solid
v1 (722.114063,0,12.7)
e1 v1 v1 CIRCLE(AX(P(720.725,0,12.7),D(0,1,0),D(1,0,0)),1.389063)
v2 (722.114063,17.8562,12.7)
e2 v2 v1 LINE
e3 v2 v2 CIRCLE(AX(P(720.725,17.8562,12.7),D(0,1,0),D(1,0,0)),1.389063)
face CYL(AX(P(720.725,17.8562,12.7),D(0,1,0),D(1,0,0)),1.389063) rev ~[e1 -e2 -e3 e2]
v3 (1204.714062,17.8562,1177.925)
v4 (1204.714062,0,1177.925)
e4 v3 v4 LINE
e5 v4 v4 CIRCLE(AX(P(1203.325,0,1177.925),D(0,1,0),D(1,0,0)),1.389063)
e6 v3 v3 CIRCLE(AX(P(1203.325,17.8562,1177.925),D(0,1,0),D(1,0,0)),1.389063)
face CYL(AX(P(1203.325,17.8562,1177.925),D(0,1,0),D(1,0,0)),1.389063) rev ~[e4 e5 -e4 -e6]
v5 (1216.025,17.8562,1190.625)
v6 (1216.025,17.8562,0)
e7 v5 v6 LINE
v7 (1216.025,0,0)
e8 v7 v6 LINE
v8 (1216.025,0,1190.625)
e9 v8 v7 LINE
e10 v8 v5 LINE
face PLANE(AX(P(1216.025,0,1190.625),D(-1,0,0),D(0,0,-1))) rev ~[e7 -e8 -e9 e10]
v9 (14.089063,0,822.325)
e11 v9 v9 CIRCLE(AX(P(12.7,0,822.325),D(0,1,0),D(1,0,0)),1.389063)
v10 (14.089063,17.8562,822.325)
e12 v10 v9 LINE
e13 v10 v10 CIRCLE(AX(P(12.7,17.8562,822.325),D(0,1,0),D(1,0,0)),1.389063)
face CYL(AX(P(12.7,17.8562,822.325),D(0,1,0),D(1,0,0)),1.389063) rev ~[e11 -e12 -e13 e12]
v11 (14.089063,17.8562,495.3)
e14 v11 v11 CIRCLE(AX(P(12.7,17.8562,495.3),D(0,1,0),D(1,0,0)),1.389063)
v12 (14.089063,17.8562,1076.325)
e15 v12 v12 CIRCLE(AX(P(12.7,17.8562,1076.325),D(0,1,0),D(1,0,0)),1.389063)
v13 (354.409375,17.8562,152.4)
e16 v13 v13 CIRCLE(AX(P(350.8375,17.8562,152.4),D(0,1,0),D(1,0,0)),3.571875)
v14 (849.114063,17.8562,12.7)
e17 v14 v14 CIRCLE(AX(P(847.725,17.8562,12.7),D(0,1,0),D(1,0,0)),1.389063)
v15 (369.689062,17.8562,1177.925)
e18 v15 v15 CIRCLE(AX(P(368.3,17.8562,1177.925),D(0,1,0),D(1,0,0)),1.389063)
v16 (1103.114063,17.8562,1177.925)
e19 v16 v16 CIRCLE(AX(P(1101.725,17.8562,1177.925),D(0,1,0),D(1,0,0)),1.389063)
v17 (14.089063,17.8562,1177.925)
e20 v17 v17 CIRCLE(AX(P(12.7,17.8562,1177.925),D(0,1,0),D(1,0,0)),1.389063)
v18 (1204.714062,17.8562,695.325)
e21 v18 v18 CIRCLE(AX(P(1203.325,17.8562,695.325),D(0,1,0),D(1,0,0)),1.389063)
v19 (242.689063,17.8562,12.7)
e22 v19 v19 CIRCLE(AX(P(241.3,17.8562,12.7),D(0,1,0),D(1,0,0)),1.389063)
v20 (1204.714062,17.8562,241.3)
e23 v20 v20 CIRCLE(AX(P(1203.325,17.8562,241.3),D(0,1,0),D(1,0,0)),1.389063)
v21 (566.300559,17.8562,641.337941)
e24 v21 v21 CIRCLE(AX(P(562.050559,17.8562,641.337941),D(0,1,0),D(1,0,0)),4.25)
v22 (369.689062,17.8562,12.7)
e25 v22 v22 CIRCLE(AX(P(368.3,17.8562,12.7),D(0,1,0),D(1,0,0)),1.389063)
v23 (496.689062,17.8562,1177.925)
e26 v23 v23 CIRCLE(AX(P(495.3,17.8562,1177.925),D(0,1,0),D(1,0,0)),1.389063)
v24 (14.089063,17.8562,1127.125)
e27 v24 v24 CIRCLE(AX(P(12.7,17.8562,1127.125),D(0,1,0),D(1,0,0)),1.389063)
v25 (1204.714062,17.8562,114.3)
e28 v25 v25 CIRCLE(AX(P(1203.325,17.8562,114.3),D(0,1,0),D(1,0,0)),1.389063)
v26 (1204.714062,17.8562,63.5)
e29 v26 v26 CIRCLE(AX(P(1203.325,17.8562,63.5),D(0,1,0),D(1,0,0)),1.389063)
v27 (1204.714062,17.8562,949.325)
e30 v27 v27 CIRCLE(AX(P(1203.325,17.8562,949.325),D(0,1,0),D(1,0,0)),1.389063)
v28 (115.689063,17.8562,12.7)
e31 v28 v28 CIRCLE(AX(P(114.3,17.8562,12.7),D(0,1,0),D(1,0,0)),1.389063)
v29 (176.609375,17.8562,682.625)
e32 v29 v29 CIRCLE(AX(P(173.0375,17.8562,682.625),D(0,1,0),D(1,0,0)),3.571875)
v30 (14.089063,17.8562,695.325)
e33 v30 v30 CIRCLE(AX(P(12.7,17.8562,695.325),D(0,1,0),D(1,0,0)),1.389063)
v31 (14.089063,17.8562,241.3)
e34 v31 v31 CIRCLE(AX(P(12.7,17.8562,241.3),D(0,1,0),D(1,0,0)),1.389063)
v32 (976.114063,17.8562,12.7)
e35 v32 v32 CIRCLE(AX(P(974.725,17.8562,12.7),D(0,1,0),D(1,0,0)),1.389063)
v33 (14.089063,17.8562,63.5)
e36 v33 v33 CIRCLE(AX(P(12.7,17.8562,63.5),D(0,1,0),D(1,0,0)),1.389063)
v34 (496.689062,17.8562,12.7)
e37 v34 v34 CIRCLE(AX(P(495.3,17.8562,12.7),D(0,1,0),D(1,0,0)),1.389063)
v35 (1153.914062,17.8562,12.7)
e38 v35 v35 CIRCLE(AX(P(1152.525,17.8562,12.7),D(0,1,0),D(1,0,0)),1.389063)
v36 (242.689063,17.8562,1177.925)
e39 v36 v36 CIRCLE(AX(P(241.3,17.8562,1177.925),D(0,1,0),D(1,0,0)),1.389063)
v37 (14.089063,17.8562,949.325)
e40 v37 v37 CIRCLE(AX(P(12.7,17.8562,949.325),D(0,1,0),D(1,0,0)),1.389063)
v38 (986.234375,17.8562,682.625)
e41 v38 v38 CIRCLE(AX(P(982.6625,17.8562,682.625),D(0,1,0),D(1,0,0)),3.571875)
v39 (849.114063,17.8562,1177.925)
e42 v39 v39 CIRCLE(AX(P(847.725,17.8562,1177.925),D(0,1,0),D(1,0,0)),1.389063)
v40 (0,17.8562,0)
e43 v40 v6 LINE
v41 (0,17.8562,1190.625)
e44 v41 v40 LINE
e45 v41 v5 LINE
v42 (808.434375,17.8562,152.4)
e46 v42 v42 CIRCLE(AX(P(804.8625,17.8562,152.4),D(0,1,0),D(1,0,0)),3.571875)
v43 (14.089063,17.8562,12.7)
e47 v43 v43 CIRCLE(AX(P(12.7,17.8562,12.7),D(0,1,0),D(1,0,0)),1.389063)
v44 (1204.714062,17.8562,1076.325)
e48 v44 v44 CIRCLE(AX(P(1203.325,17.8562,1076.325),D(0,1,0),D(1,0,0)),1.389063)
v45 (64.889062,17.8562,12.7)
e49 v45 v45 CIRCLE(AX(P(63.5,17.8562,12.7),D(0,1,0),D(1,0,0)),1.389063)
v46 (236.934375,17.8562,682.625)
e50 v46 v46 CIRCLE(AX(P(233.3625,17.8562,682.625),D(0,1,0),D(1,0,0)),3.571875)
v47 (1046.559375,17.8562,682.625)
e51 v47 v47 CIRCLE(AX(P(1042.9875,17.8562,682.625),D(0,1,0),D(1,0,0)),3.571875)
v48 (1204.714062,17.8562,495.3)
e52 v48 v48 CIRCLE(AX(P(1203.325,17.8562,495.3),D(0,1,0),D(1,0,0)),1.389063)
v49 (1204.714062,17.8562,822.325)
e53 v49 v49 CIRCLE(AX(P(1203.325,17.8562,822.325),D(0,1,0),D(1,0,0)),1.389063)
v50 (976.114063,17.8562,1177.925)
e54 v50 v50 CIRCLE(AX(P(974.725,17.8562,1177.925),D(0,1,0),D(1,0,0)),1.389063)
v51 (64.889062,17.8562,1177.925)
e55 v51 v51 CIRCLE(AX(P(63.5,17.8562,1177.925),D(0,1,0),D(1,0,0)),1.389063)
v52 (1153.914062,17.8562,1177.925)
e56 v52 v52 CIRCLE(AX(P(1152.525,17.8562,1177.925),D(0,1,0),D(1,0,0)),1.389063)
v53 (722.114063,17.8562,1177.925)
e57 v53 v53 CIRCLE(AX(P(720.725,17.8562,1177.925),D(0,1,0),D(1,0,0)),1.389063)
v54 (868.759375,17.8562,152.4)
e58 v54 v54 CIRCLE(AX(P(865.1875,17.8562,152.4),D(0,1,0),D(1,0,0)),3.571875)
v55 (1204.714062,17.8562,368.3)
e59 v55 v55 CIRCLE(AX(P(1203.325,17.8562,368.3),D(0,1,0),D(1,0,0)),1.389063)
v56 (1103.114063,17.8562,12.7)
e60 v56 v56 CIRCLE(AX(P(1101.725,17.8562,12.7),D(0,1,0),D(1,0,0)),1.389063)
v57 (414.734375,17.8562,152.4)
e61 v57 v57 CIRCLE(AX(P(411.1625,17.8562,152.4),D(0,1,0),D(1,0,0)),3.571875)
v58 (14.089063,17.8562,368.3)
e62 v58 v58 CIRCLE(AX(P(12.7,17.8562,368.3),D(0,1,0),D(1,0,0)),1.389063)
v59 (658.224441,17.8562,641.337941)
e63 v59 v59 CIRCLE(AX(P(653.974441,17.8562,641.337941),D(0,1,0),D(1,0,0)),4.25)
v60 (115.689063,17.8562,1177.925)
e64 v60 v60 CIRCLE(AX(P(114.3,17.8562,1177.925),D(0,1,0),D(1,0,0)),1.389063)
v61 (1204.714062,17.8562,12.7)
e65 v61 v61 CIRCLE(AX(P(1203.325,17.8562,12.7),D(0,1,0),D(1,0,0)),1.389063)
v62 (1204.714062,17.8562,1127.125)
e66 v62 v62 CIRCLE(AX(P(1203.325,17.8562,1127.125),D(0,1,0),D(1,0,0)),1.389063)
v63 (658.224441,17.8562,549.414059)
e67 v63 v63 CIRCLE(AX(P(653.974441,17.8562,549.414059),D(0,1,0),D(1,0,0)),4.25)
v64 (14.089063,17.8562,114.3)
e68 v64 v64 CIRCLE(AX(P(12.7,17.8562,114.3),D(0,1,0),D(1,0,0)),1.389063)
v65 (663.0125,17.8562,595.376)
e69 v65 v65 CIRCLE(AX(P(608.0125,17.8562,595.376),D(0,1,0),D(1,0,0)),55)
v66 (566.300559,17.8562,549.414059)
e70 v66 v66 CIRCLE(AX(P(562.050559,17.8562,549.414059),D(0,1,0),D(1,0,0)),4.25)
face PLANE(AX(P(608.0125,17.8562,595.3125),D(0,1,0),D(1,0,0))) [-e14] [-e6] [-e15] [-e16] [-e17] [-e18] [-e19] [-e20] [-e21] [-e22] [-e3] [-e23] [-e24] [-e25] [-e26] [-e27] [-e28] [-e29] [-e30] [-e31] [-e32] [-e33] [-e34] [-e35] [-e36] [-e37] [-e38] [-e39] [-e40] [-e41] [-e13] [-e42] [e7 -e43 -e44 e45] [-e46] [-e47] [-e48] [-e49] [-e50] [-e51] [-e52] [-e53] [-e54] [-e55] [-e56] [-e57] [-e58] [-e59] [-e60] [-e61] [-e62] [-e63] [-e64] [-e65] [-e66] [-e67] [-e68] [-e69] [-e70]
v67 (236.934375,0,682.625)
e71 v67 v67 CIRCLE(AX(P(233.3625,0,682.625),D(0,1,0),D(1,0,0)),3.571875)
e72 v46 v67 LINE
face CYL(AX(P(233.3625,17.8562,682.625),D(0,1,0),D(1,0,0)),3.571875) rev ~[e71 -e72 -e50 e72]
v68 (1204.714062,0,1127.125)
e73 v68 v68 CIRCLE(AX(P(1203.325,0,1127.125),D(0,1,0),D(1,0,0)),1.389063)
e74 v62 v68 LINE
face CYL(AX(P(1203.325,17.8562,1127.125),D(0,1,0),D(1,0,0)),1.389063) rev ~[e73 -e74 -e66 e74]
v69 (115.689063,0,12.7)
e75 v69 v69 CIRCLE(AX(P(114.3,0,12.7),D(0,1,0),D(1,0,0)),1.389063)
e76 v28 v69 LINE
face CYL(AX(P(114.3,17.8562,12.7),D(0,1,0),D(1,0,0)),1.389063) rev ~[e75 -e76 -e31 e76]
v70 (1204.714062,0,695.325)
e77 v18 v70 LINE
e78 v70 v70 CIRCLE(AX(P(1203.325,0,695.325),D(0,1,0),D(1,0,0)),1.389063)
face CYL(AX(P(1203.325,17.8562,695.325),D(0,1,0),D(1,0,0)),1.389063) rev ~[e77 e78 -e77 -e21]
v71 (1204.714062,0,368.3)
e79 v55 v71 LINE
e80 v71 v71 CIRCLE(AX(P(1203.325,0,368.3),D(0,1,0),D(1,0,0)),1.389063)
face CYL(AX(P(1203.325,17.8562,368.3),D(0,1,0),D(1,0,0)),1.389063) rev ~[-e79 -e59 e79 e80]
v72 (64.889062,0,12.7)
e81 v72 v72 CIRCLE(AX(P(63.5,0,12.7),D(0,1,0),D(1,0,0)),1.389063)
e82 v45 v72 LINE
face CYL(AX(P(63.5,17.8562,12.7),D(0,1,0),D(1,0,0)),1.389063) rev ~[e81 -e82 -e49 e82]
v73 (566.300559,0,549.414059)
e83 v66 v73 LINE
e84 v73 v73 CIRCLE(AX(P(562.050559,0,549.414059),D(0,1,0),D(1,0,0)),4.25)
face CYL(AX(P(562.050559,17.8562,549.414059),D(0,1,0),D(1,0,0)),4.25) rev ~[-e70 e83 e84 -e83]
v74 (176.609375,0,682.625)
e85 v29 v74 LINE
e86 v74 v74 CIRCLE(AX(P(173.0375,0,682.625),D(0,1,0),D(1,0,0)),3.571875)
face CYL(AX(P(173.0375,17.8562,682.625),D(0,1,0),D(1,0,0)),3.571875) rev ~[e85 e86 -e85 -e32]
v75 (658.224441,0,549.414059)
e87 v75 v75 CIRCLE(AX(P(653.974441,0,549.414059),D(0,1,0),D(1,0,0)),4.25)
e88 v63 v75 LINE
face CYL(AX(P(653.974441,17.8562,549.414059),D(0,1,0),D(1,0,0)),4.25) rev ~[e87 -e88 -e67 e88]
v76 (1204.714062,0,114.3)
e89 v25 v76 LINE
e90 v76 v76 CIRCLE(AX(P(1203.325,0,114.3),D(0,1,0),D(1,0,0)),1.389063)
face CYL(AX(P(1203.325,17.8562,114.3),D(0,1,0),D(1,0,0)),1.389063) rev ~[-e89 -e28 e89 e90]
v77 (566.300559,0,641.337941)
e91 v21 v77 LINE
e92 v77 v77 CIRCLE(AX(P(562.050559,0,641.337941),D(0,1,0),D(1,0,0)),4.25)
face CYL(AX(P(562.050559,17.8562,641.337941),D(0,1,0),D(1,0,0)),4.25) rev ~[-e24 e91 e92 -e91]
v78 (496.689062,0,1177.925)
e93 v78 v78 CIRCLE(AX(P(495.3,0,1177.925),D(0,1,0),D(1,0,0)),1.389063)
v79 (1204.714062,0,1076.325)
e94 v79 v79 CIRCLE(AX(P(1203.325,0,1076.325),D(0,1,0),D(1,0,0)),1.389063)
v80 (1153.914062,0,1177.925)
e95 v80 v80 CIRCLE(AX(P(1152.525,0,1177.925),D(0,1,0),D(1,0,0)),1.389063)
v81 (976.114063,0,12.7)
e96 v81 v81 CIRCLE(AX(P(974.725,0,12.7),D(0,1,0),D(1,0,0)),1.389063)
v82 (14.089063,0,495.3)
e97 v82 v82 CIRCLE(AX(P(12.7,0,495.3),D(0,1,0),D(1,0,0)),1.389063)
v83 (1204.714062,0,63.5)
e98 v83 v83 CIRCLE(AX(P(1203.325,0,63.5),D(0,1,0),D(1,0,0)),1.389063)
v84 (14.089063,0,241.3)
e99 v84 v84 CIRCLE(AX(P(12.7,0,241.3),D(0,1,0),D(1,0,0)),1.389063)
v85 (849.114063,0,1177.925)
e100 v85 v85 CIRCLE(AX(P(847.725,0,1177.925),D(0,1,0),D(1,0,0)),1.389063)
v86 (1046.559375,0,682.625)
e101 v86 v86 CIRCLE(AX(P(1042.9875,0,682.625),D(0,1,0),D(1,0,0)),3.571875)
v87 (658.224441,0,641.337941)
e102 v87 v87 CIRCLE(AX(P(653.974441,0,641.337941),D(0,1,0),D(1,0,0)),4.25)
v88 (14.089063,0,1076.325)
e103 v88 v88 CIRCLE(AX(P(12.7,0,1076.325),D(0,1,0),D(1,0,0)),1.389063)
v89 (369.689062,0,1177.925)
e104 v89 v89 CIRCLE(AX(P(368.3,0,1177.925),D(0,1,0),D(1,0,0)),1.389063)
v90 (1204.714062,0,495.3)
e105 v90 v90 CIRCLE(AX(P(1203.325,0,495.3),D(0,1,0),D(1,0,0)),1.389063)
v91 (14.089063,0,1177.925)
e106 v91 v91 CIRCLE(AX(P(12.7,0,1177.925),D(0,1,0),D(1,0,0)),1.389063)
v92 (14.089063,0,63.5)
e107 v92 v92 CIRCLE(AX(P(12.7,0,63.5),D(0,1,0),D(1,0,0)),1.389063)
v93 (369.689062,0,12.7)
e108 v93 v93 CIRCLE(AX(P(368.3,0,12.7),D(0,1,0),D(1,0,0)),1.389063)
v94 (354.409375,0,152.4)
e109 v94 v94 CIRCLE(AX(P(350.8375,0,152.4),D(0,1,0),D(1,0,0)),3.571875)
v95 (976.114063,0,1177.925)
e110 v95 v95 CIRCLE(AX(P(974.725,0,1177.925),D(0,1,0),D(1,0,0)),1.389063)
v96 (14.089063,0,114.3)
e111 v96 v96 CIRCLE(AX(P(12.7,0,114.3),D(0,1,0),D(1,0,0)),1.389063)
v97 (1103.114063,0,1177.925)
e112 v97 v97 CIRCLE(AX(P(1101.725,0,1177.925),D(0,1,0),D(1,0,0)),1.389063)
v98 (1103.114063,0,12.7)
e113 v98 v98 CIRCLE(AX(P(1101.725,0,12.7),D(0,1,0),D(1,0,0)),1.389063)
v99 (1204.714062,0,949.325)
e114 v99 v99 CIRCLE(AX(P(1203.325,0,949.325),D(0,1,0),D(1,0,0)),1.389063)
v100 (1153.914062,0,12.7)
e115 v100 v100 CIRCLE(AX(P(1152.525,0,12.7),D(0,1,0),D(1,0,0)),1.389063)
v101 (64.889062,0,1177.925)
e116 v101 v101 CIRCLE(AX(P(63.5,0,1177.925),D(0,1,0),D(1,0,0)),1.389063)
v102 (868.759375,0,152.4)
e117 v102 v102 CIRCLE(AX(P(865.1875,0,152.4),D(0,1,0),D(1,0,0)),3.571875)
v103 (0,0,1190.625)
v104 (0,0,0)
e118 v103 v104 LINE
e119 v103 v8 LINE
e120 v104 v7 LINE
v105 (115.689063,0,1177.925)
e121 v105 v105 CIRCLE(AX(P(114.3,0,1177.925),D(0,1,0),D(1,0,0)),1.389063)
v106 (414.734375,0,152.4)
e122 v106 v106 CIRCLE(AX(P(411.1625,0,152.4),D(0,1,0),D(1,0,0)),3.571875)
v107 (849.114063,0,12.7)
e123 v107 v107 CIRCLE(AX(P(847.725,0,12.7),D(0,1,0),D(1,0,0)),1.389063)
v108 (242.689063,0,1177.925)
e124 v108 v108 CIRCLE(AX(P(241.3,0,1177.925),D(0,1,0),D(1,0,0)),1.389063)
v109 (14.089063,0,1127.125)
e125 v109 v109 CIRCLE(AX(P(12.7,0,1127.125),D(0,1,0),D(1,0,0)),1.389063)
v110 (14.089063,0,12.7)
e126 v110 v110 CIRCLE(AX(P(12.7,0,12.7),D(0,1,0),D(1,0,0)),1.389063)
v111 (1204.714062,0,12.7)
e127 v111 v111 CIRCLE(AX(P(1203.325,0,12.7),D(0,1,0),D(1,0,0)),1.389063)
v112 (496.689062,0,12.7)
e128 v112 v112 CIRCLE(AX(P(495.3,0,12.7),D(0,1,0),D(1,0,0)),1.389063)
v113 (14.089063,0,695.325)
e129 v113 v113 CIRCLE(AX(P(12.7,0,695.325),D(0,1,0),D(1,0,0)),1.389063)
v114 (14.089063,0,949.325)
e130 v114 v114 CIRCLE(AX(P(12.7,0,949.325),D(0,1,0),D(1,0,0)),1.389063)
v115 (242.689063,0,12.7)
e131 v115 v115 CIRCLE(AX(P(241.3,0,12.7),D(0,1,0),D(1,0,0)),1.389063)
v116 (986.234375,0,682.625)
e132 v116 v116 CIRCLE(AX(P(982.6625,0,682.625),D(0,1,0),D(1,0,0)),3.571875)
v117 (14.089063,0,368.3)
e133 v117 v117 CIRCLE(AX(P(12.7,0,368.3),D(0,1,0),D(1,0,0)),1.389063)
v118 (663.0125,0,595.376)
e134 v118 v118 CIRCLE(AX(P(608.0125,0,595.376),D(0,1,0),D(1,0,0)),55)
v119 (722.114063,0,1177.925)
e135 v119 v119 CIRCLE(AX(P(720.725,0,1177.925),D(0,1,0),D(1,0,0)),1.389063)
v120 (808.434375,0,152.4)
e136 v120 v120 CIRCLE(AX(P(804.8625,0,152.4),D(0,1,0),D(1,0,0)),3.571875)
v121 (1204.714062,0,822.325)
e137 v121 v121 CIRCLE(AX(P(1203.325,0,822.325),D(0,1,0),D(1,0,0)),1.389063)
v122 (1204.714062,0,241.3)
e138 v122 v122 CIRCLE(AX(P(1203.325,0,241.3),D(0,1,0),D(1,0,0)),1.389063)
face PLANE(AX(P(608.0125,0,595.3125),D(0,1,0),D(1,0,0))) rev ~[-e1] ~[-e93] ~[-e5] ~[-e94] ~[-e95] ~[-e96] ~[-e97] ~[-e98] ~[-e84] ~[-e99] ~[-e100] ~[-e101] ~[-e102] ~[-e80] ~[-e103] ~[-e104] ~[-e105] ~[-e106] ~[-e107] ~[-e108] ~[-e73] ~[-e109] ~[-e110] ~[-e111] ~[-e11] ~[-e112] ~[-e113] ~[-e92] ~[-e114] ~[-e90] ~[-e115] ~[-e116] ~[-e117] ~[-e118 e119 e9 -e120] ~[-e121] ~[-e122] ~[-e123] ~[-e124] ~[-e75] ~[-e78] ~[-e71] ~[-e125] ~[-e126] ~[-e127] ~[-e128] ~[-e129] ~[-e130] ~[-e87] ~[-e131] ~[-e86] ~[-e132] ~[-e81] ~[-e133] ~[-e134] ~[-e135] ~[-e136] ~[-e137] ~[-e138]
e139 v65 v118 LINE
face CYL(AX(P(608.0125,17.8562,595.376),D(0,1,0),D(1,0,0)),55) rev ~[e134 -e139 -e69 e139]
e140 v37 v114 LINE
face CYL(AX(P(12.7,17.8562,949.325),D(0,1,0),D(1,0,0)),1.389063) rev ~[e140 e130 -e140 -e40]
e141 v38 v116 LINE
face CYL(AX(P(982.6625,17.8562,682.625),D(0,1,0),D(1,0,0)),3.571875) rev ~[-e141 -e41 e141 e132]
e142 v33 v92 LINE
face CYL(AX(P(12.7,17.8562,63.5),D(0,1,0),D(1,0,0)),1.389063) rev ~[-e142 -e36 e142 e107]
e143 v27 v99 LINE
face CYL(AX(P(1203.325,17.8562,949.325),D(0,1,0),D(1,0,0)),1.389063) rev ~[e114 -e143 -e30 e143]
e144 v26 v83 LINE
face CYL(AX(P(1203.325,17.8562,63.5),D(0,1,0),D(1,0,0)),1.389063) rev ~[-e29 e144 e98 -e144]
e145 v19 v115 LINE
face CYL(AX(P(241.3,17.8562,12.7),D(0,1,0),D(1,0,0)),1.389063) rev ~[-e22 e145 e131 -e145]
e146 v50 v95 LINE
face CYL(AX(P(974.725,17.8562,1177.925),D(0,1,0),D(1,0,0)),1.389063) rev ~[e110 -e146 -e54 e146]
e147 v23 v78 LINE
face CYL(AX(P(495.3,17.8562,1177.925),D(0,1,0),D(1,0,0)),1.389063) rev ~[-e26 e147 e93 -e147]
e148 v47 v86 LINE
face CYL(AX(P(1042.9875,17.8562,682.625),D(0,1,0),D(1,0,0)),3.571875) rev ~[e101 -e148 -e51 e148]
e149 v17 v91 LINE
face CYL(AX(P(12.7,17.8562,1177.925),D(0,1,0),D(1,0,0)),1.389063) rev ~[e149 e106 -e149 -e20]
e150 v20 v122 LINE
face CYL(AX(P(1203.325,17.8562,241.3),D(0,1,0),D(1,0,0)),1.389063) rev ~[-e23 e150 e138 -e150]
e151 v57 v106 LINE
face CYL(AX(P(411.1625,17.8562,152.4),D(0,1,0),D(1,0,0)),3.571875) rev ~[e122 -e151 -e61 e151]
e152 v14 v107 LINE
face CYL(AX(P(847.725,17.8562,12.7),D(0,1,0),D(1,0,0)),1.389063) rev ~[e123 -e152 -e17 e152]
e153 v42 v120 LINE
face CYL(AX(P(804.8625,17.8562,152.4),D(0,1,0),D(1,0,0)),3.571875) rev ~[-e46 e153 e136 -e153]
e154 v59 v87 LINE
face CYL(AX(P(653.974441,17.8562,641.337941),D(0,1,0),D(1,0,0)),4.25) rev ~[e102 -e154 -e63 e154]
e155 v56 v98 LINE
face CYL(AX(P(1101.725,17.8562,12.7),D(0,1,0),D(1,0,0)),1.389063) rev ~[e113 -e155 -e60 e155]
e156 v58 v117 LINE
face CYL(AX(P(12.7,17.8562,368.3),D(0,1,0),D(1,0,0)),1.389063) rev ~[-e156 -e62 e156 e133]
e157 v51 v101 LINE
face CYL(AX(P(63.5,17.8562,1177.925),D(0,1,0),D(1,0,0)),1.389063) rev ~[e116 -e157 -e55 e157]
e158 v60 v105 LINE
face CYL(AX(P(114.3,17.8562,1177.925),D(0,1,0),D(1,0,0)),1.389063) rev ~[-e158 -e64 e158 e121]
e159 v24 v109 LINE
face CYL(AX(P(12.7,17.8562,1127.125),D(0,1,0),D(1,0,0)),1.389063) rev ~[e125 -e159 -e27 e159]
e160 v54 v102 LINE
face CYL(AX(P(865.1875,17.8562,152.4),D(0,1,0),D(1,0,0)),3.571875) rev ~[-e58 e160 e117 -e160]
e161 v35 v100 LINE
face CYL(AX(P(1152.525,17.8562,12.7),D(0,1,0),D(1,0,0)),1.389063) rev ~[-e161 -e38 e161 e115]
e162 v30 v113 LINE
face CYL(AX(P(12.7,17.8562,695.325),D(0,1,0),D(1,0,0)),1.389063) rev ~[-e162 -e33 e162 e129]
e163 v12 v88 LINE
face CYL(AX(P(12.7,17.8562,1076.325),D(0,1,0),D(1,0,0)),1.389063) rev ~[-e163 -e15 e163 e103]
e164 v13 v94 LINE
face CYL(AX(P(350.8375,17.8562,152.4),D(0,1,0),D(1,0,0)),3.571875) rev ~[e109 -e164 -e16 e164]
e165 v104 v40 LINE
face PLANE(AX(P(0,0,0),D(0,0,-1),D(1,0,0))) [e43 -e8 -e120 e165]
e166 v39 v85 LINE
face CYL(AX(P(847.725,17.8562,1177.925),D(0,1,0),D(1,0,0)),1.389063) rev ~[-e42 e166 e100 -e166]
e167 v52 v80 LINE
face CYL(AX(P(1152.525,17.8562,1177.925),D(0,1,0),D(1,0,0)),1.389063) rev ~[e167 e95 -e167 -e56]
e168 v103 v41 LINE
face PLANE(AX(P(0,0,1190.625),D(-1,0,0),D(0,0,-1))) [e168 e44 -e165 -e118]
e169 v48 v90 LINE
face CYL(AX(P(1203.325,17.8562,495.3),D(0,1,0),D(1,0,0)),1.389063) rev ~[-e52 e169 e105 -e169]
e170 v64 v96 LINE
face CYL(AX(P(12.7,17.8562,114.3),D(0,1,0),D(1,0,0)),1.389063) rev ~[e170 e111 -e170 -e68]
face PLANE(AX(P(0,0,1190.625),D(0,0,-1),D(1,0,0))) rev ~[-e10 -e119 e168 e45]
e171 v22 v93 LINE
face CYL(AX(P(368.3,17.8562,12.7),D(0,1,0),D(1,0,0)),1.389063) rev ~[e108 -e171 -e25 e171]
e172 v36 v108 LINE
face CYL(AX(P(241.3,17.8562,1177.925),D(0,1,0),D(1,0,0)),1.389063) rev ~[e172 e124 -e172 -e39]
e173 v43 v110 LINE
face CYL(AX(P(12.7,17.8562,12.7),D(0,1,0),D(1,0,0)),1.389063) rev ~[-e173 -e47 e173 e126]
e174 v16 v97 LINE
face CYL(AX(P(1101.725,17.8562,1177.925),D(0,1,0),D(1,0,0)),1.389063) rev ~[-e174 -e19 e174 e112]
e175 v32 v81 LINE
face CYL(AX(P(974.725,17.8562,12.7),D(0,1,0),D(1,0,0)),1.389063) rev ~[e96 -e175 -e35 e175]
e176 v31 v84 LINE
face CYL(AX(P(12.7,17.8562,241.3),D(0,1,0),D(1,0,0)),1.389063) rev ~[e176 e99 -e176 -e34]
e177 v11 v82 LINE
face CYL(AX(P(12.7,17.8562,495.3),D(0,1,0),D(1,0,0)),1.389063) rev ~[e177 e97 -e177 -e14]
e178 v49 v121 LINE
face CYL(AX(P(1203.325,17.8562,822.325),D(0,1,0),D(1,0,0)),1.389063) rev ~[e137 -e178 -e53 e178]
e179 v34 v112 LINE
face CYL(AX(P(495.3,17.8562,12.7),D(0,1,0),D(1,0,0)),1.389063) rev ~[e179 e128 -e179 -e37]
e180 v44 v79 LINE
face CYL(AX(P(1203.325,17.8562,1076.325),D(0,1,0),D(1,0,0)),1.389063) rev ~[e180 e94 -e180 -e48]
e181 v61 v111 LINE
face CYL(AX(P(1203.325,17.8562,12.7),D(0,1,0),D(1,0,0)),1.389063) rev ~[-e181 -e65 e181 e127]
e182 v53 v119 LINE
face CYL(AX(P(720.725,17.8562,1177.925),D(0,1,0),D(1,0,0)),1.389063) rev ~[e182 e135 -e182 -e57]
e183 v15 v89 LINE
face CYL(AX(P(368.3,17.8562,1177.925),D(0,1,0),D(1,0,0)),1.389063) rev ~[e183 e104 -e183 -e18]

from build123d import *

# Parameters (mm, degrees)
SKETCH1_W               = 1216.025
SKETCH1_H               = 1190.625
BOSS_EXTRUDE1_DEPTH     = 17.8562
SKETCH3_R               = 55
CUT_EXTRUDE1_DEPTH      = 1
CUT_EXTRUDE1_DEPTH_BACK = 18.8562
SKETCH4_R               = 4.25
CUT_EXTRUDE2_DEPTH      = 1
CUT_EXTRUDE2_DEPTH_BACK = 18.8562
SKETCH5_R               = 1.3890625
CUT_EXTRUDE3_DEPTH      = 1
CUT_EXTRUDE3_DEPTH_BACK = 18.8562
SKETCH10_R              = 3.571875
CUT_EXTRUDE4_DEPTH      = 1
CUT_EXTRUDE4_DEPTH_BACK = 18.8562


with BuildPart() as part:
    # Sketch1 → Boss-Extrude1 (new body)
    with BuildSketch(Plane(origin=(0, 0, 0), x_dir=(1, 0, 0), z_dir=(0, 1, 0))):
        with Locations((608.0125, -595.3125)):
            Rectangle(SKETCH1_W, SKETCH1_H)
    extrude(amount=BOSS_EXTRUDE1_DEPTH)

    # Sketch3 → Cut-Extrude1 (cut, two sides)
    with BuildSketch(Plane(origin=(0, 17.8562, 0), x_dir=(1, 0, 0), z_dir=(0, 1, 0))) as cut_extrude1_sk:
        with Locations((608.0125, -595.376)):
            Circle(SKETCH3_R)
    extrude(amount=CUT_EXTRUDE1_DEPTH, mode=Mode.SUBTRACT)
    extrude(cut_extrude1_sk.sketch, amount=-CUT_EXTRUDE1_DEPTH_BACK, mode=Mode.SUBTRACT)

    # Sketch4 → Cut-Extrude2 (cut, two sides)
    with BuildSketch(Plane(origin=(0, 17.8562, 0), x_dir=(1, 0, 0), z_dir=(0, 1, 0))) as cut_extrude2_sk:
        with Locations((562.050559223, -549.414059223)):
            Circle(SKETCH4_R)
        with Locations((653.974440777, -549.414059223)):
            Circle(SKETCH4_R)
        with Locations((653.974440777, -641.337940777)):
            Circle(SKETCH4_R)
        with Locations((562.050559223, -641.337940777)):
            Circle(SKETCH4_R)
    extrude(amount=CUT_EXTRUDE2_DEPTH, mode=Mode.SUBTRACT)
    extrude(cut_extrude2_sk.sketch, amount=-CUT_EXTRUDE2_DEPTH_BACK, mode=Mode.SUBTRACT)

    # Sketch5 → Cut-Extrude3 (cut, two sides)
    with BuildSketch(Plane(origin=(0, 17.8562, 0), x_dir=(1, 0, 0), z_dir=(0, 1, 0))) as cut_extrude3_sk:
        with Locations((12.7, -12.7)):
            Circle(SKETCH5_R)
        with Locations((12.7, -63.5)):
            Circle(SKETCH5_R)
        with Locations((63.5, -12.7)):
            Circle(SKETCH5_R)
        with Locations((12.7, -114.3)):
            Circle(SKETCH5_R)
        with Locations((114.3, -12.7)):
            Circle(SKETCH5_R)
        with Locations((12.7, -241.3)):
            Circle(SKETCH5_R)
        with Locations((12.7, -368.3)):
            Circle(SKETCH5_R)
        with Locations((12.7, -495.3)):
            Circle(SKETCH5_R)
        with Locations((241.3, -12.7)):
            Circle(SKETCH5_R)
        with Locations((368.3, -12.7)):
            Circle(SKETCH5_R)
        with Locations((495.3, -12.7)):
            Circle(SKETCH5_R)
        with Locations((720.725, -12.7)):
            Circle(SKETCH5_R)
        with Locations((847.725, -12.7)):
            Circle(SKETCH5_R)
        with Locations((974.725, -12.7)):
            Circle(SKETCH5_R)
        with Locations((1203.325, -495.3)):
            Circle(SKETCH5_R)
        with Locations((1203.325, -368.3)):
            Circle(SKETCH5_R)
        with Locations((1203.325, -241.3)):
            Circle(SKETCH5_R)
        with Locations((1101.725, -12.7)):
            Circle(SKETCH5_R)
        with Locations((1203.325, -114.3)):
            Circle(SKETCH5_R)
        with Locations((1152.525, -12.7)):
            Circle(SKETCH5_R)
        with Locations((1203.325, -63.5)):
            Circle(SKETCH5_R)
        with Locations((1203.325, -12.7)):
            Circle(SKETCH5_R)
        with Locations((1203.325, -1177.925)):
            Circle(SKETCH5_R)
        with Locations((1203.325, -1127.125)):
            Circle(SKETCH5_R)
        with Locations((1152.525, -1177.925)):
            Circle(SKETCH5_R)
        with Locations((1203.325, -1076.325)):
            Circle(SKETCH5_R)
        with Locations((1101.725, -1177.925)):
            Circle(SKETCH5_R)
        with Locations((1203.325, -949.325)):
            Circle(SKETCH5_R)
        with Locations((1203.325, -822.325)):
            Circle(SKETCH5_R)
        with Locations((1203.325, -695.325)):
            Circle(SKETCH5_R)
        with Locations((974.725, -1177.925)):
            Circle(SKETCH5_R)
        with Locations((847.725, -1177.925)):
            Circle(SKETCH5_R)
        with Locations((720.725, -1177.925)):
            Circle(SKETCH5_R)
        with Locations((495.3, -1177.925)):
            Circle(SKETCH5_R)
        with Locations((368.3, -1177.925)):
            Circle(SKETCH5_R)
        with Locations((241.3, -1177.925)):
            Circle(SKETCH5_R)
        with Locations((12.7, -695.325)):
            Circle(SKETCH5_R)
        with Locations((12.7, -822.325)):
            Circle(SKETCH5_R)
        with Locations((12.7, -949.325)):
            Circle(SKETCH5_R)
        with Locations((114.3, -1177.925)):
            Circle(SKETCH5_R)
        with Locations((12.7, -1076.325)):
            Circle(SKETCH5_R)
        with Locations((63.5, -1177.925)):
            Circle(SKETCH5_R)
        with Locations((12.7, -1127.125)):
            Circle(SKETCH5_R)
        with Locations((12.7, -1177.925)):
            Circle(SKETCH5_R)
    extrude(amount=CUT_EXTRUDE3_DEPTH, mode=Mode.SUBTRACT)
    extrude(cut_extrude3_sk.sketch, amount=-CUT_EXTRUDE3_DEPTH_BACK, mode=Mode.SUBTRACT)

    # Sketch10 → Cut-Extrude4 (cut, two sides)
    with BuildSketch(Plane(origin=(0, 17.8562, 0), x_dir=(1, 0, 0), z_dir=(0, 1, 0))) as cut_extrude4_sk:
        with Locations((173.0375, -682.625)):
            Circle(SKETCH10_R)
        with Locations((233.3625, -682.625)):
            Circle(SKETCH10_R)
        with Locations((350.8375, -152.4)):
            Circle(SKETCH10_R)
        with Locations((411.1625, -152.4)):
            Circle(SKETCH10_R)
        with Locations((804.8625, -152.4)):
            Circle(SKETCH10_R)
        with Locations((865.1875, -152.4)):
            Circle(SKETCH10_R)
        with Locations((982.6625, -682.625)):
            Circle(SKETCH10_R)
        with Locations((1042.9875, -682.625)):
            Circle(SKETCH10_R)
    extrude(amount=CUT_EXTRUDE4_DEPTH, mode=Mode.SUBTRACT)
    extrude(cut_extrude4_sk.sketch, amount=-CUT_EXTRUDE4_DEPTH_BACK, mode=Mode.SUBTRACT)


solid = part.part
